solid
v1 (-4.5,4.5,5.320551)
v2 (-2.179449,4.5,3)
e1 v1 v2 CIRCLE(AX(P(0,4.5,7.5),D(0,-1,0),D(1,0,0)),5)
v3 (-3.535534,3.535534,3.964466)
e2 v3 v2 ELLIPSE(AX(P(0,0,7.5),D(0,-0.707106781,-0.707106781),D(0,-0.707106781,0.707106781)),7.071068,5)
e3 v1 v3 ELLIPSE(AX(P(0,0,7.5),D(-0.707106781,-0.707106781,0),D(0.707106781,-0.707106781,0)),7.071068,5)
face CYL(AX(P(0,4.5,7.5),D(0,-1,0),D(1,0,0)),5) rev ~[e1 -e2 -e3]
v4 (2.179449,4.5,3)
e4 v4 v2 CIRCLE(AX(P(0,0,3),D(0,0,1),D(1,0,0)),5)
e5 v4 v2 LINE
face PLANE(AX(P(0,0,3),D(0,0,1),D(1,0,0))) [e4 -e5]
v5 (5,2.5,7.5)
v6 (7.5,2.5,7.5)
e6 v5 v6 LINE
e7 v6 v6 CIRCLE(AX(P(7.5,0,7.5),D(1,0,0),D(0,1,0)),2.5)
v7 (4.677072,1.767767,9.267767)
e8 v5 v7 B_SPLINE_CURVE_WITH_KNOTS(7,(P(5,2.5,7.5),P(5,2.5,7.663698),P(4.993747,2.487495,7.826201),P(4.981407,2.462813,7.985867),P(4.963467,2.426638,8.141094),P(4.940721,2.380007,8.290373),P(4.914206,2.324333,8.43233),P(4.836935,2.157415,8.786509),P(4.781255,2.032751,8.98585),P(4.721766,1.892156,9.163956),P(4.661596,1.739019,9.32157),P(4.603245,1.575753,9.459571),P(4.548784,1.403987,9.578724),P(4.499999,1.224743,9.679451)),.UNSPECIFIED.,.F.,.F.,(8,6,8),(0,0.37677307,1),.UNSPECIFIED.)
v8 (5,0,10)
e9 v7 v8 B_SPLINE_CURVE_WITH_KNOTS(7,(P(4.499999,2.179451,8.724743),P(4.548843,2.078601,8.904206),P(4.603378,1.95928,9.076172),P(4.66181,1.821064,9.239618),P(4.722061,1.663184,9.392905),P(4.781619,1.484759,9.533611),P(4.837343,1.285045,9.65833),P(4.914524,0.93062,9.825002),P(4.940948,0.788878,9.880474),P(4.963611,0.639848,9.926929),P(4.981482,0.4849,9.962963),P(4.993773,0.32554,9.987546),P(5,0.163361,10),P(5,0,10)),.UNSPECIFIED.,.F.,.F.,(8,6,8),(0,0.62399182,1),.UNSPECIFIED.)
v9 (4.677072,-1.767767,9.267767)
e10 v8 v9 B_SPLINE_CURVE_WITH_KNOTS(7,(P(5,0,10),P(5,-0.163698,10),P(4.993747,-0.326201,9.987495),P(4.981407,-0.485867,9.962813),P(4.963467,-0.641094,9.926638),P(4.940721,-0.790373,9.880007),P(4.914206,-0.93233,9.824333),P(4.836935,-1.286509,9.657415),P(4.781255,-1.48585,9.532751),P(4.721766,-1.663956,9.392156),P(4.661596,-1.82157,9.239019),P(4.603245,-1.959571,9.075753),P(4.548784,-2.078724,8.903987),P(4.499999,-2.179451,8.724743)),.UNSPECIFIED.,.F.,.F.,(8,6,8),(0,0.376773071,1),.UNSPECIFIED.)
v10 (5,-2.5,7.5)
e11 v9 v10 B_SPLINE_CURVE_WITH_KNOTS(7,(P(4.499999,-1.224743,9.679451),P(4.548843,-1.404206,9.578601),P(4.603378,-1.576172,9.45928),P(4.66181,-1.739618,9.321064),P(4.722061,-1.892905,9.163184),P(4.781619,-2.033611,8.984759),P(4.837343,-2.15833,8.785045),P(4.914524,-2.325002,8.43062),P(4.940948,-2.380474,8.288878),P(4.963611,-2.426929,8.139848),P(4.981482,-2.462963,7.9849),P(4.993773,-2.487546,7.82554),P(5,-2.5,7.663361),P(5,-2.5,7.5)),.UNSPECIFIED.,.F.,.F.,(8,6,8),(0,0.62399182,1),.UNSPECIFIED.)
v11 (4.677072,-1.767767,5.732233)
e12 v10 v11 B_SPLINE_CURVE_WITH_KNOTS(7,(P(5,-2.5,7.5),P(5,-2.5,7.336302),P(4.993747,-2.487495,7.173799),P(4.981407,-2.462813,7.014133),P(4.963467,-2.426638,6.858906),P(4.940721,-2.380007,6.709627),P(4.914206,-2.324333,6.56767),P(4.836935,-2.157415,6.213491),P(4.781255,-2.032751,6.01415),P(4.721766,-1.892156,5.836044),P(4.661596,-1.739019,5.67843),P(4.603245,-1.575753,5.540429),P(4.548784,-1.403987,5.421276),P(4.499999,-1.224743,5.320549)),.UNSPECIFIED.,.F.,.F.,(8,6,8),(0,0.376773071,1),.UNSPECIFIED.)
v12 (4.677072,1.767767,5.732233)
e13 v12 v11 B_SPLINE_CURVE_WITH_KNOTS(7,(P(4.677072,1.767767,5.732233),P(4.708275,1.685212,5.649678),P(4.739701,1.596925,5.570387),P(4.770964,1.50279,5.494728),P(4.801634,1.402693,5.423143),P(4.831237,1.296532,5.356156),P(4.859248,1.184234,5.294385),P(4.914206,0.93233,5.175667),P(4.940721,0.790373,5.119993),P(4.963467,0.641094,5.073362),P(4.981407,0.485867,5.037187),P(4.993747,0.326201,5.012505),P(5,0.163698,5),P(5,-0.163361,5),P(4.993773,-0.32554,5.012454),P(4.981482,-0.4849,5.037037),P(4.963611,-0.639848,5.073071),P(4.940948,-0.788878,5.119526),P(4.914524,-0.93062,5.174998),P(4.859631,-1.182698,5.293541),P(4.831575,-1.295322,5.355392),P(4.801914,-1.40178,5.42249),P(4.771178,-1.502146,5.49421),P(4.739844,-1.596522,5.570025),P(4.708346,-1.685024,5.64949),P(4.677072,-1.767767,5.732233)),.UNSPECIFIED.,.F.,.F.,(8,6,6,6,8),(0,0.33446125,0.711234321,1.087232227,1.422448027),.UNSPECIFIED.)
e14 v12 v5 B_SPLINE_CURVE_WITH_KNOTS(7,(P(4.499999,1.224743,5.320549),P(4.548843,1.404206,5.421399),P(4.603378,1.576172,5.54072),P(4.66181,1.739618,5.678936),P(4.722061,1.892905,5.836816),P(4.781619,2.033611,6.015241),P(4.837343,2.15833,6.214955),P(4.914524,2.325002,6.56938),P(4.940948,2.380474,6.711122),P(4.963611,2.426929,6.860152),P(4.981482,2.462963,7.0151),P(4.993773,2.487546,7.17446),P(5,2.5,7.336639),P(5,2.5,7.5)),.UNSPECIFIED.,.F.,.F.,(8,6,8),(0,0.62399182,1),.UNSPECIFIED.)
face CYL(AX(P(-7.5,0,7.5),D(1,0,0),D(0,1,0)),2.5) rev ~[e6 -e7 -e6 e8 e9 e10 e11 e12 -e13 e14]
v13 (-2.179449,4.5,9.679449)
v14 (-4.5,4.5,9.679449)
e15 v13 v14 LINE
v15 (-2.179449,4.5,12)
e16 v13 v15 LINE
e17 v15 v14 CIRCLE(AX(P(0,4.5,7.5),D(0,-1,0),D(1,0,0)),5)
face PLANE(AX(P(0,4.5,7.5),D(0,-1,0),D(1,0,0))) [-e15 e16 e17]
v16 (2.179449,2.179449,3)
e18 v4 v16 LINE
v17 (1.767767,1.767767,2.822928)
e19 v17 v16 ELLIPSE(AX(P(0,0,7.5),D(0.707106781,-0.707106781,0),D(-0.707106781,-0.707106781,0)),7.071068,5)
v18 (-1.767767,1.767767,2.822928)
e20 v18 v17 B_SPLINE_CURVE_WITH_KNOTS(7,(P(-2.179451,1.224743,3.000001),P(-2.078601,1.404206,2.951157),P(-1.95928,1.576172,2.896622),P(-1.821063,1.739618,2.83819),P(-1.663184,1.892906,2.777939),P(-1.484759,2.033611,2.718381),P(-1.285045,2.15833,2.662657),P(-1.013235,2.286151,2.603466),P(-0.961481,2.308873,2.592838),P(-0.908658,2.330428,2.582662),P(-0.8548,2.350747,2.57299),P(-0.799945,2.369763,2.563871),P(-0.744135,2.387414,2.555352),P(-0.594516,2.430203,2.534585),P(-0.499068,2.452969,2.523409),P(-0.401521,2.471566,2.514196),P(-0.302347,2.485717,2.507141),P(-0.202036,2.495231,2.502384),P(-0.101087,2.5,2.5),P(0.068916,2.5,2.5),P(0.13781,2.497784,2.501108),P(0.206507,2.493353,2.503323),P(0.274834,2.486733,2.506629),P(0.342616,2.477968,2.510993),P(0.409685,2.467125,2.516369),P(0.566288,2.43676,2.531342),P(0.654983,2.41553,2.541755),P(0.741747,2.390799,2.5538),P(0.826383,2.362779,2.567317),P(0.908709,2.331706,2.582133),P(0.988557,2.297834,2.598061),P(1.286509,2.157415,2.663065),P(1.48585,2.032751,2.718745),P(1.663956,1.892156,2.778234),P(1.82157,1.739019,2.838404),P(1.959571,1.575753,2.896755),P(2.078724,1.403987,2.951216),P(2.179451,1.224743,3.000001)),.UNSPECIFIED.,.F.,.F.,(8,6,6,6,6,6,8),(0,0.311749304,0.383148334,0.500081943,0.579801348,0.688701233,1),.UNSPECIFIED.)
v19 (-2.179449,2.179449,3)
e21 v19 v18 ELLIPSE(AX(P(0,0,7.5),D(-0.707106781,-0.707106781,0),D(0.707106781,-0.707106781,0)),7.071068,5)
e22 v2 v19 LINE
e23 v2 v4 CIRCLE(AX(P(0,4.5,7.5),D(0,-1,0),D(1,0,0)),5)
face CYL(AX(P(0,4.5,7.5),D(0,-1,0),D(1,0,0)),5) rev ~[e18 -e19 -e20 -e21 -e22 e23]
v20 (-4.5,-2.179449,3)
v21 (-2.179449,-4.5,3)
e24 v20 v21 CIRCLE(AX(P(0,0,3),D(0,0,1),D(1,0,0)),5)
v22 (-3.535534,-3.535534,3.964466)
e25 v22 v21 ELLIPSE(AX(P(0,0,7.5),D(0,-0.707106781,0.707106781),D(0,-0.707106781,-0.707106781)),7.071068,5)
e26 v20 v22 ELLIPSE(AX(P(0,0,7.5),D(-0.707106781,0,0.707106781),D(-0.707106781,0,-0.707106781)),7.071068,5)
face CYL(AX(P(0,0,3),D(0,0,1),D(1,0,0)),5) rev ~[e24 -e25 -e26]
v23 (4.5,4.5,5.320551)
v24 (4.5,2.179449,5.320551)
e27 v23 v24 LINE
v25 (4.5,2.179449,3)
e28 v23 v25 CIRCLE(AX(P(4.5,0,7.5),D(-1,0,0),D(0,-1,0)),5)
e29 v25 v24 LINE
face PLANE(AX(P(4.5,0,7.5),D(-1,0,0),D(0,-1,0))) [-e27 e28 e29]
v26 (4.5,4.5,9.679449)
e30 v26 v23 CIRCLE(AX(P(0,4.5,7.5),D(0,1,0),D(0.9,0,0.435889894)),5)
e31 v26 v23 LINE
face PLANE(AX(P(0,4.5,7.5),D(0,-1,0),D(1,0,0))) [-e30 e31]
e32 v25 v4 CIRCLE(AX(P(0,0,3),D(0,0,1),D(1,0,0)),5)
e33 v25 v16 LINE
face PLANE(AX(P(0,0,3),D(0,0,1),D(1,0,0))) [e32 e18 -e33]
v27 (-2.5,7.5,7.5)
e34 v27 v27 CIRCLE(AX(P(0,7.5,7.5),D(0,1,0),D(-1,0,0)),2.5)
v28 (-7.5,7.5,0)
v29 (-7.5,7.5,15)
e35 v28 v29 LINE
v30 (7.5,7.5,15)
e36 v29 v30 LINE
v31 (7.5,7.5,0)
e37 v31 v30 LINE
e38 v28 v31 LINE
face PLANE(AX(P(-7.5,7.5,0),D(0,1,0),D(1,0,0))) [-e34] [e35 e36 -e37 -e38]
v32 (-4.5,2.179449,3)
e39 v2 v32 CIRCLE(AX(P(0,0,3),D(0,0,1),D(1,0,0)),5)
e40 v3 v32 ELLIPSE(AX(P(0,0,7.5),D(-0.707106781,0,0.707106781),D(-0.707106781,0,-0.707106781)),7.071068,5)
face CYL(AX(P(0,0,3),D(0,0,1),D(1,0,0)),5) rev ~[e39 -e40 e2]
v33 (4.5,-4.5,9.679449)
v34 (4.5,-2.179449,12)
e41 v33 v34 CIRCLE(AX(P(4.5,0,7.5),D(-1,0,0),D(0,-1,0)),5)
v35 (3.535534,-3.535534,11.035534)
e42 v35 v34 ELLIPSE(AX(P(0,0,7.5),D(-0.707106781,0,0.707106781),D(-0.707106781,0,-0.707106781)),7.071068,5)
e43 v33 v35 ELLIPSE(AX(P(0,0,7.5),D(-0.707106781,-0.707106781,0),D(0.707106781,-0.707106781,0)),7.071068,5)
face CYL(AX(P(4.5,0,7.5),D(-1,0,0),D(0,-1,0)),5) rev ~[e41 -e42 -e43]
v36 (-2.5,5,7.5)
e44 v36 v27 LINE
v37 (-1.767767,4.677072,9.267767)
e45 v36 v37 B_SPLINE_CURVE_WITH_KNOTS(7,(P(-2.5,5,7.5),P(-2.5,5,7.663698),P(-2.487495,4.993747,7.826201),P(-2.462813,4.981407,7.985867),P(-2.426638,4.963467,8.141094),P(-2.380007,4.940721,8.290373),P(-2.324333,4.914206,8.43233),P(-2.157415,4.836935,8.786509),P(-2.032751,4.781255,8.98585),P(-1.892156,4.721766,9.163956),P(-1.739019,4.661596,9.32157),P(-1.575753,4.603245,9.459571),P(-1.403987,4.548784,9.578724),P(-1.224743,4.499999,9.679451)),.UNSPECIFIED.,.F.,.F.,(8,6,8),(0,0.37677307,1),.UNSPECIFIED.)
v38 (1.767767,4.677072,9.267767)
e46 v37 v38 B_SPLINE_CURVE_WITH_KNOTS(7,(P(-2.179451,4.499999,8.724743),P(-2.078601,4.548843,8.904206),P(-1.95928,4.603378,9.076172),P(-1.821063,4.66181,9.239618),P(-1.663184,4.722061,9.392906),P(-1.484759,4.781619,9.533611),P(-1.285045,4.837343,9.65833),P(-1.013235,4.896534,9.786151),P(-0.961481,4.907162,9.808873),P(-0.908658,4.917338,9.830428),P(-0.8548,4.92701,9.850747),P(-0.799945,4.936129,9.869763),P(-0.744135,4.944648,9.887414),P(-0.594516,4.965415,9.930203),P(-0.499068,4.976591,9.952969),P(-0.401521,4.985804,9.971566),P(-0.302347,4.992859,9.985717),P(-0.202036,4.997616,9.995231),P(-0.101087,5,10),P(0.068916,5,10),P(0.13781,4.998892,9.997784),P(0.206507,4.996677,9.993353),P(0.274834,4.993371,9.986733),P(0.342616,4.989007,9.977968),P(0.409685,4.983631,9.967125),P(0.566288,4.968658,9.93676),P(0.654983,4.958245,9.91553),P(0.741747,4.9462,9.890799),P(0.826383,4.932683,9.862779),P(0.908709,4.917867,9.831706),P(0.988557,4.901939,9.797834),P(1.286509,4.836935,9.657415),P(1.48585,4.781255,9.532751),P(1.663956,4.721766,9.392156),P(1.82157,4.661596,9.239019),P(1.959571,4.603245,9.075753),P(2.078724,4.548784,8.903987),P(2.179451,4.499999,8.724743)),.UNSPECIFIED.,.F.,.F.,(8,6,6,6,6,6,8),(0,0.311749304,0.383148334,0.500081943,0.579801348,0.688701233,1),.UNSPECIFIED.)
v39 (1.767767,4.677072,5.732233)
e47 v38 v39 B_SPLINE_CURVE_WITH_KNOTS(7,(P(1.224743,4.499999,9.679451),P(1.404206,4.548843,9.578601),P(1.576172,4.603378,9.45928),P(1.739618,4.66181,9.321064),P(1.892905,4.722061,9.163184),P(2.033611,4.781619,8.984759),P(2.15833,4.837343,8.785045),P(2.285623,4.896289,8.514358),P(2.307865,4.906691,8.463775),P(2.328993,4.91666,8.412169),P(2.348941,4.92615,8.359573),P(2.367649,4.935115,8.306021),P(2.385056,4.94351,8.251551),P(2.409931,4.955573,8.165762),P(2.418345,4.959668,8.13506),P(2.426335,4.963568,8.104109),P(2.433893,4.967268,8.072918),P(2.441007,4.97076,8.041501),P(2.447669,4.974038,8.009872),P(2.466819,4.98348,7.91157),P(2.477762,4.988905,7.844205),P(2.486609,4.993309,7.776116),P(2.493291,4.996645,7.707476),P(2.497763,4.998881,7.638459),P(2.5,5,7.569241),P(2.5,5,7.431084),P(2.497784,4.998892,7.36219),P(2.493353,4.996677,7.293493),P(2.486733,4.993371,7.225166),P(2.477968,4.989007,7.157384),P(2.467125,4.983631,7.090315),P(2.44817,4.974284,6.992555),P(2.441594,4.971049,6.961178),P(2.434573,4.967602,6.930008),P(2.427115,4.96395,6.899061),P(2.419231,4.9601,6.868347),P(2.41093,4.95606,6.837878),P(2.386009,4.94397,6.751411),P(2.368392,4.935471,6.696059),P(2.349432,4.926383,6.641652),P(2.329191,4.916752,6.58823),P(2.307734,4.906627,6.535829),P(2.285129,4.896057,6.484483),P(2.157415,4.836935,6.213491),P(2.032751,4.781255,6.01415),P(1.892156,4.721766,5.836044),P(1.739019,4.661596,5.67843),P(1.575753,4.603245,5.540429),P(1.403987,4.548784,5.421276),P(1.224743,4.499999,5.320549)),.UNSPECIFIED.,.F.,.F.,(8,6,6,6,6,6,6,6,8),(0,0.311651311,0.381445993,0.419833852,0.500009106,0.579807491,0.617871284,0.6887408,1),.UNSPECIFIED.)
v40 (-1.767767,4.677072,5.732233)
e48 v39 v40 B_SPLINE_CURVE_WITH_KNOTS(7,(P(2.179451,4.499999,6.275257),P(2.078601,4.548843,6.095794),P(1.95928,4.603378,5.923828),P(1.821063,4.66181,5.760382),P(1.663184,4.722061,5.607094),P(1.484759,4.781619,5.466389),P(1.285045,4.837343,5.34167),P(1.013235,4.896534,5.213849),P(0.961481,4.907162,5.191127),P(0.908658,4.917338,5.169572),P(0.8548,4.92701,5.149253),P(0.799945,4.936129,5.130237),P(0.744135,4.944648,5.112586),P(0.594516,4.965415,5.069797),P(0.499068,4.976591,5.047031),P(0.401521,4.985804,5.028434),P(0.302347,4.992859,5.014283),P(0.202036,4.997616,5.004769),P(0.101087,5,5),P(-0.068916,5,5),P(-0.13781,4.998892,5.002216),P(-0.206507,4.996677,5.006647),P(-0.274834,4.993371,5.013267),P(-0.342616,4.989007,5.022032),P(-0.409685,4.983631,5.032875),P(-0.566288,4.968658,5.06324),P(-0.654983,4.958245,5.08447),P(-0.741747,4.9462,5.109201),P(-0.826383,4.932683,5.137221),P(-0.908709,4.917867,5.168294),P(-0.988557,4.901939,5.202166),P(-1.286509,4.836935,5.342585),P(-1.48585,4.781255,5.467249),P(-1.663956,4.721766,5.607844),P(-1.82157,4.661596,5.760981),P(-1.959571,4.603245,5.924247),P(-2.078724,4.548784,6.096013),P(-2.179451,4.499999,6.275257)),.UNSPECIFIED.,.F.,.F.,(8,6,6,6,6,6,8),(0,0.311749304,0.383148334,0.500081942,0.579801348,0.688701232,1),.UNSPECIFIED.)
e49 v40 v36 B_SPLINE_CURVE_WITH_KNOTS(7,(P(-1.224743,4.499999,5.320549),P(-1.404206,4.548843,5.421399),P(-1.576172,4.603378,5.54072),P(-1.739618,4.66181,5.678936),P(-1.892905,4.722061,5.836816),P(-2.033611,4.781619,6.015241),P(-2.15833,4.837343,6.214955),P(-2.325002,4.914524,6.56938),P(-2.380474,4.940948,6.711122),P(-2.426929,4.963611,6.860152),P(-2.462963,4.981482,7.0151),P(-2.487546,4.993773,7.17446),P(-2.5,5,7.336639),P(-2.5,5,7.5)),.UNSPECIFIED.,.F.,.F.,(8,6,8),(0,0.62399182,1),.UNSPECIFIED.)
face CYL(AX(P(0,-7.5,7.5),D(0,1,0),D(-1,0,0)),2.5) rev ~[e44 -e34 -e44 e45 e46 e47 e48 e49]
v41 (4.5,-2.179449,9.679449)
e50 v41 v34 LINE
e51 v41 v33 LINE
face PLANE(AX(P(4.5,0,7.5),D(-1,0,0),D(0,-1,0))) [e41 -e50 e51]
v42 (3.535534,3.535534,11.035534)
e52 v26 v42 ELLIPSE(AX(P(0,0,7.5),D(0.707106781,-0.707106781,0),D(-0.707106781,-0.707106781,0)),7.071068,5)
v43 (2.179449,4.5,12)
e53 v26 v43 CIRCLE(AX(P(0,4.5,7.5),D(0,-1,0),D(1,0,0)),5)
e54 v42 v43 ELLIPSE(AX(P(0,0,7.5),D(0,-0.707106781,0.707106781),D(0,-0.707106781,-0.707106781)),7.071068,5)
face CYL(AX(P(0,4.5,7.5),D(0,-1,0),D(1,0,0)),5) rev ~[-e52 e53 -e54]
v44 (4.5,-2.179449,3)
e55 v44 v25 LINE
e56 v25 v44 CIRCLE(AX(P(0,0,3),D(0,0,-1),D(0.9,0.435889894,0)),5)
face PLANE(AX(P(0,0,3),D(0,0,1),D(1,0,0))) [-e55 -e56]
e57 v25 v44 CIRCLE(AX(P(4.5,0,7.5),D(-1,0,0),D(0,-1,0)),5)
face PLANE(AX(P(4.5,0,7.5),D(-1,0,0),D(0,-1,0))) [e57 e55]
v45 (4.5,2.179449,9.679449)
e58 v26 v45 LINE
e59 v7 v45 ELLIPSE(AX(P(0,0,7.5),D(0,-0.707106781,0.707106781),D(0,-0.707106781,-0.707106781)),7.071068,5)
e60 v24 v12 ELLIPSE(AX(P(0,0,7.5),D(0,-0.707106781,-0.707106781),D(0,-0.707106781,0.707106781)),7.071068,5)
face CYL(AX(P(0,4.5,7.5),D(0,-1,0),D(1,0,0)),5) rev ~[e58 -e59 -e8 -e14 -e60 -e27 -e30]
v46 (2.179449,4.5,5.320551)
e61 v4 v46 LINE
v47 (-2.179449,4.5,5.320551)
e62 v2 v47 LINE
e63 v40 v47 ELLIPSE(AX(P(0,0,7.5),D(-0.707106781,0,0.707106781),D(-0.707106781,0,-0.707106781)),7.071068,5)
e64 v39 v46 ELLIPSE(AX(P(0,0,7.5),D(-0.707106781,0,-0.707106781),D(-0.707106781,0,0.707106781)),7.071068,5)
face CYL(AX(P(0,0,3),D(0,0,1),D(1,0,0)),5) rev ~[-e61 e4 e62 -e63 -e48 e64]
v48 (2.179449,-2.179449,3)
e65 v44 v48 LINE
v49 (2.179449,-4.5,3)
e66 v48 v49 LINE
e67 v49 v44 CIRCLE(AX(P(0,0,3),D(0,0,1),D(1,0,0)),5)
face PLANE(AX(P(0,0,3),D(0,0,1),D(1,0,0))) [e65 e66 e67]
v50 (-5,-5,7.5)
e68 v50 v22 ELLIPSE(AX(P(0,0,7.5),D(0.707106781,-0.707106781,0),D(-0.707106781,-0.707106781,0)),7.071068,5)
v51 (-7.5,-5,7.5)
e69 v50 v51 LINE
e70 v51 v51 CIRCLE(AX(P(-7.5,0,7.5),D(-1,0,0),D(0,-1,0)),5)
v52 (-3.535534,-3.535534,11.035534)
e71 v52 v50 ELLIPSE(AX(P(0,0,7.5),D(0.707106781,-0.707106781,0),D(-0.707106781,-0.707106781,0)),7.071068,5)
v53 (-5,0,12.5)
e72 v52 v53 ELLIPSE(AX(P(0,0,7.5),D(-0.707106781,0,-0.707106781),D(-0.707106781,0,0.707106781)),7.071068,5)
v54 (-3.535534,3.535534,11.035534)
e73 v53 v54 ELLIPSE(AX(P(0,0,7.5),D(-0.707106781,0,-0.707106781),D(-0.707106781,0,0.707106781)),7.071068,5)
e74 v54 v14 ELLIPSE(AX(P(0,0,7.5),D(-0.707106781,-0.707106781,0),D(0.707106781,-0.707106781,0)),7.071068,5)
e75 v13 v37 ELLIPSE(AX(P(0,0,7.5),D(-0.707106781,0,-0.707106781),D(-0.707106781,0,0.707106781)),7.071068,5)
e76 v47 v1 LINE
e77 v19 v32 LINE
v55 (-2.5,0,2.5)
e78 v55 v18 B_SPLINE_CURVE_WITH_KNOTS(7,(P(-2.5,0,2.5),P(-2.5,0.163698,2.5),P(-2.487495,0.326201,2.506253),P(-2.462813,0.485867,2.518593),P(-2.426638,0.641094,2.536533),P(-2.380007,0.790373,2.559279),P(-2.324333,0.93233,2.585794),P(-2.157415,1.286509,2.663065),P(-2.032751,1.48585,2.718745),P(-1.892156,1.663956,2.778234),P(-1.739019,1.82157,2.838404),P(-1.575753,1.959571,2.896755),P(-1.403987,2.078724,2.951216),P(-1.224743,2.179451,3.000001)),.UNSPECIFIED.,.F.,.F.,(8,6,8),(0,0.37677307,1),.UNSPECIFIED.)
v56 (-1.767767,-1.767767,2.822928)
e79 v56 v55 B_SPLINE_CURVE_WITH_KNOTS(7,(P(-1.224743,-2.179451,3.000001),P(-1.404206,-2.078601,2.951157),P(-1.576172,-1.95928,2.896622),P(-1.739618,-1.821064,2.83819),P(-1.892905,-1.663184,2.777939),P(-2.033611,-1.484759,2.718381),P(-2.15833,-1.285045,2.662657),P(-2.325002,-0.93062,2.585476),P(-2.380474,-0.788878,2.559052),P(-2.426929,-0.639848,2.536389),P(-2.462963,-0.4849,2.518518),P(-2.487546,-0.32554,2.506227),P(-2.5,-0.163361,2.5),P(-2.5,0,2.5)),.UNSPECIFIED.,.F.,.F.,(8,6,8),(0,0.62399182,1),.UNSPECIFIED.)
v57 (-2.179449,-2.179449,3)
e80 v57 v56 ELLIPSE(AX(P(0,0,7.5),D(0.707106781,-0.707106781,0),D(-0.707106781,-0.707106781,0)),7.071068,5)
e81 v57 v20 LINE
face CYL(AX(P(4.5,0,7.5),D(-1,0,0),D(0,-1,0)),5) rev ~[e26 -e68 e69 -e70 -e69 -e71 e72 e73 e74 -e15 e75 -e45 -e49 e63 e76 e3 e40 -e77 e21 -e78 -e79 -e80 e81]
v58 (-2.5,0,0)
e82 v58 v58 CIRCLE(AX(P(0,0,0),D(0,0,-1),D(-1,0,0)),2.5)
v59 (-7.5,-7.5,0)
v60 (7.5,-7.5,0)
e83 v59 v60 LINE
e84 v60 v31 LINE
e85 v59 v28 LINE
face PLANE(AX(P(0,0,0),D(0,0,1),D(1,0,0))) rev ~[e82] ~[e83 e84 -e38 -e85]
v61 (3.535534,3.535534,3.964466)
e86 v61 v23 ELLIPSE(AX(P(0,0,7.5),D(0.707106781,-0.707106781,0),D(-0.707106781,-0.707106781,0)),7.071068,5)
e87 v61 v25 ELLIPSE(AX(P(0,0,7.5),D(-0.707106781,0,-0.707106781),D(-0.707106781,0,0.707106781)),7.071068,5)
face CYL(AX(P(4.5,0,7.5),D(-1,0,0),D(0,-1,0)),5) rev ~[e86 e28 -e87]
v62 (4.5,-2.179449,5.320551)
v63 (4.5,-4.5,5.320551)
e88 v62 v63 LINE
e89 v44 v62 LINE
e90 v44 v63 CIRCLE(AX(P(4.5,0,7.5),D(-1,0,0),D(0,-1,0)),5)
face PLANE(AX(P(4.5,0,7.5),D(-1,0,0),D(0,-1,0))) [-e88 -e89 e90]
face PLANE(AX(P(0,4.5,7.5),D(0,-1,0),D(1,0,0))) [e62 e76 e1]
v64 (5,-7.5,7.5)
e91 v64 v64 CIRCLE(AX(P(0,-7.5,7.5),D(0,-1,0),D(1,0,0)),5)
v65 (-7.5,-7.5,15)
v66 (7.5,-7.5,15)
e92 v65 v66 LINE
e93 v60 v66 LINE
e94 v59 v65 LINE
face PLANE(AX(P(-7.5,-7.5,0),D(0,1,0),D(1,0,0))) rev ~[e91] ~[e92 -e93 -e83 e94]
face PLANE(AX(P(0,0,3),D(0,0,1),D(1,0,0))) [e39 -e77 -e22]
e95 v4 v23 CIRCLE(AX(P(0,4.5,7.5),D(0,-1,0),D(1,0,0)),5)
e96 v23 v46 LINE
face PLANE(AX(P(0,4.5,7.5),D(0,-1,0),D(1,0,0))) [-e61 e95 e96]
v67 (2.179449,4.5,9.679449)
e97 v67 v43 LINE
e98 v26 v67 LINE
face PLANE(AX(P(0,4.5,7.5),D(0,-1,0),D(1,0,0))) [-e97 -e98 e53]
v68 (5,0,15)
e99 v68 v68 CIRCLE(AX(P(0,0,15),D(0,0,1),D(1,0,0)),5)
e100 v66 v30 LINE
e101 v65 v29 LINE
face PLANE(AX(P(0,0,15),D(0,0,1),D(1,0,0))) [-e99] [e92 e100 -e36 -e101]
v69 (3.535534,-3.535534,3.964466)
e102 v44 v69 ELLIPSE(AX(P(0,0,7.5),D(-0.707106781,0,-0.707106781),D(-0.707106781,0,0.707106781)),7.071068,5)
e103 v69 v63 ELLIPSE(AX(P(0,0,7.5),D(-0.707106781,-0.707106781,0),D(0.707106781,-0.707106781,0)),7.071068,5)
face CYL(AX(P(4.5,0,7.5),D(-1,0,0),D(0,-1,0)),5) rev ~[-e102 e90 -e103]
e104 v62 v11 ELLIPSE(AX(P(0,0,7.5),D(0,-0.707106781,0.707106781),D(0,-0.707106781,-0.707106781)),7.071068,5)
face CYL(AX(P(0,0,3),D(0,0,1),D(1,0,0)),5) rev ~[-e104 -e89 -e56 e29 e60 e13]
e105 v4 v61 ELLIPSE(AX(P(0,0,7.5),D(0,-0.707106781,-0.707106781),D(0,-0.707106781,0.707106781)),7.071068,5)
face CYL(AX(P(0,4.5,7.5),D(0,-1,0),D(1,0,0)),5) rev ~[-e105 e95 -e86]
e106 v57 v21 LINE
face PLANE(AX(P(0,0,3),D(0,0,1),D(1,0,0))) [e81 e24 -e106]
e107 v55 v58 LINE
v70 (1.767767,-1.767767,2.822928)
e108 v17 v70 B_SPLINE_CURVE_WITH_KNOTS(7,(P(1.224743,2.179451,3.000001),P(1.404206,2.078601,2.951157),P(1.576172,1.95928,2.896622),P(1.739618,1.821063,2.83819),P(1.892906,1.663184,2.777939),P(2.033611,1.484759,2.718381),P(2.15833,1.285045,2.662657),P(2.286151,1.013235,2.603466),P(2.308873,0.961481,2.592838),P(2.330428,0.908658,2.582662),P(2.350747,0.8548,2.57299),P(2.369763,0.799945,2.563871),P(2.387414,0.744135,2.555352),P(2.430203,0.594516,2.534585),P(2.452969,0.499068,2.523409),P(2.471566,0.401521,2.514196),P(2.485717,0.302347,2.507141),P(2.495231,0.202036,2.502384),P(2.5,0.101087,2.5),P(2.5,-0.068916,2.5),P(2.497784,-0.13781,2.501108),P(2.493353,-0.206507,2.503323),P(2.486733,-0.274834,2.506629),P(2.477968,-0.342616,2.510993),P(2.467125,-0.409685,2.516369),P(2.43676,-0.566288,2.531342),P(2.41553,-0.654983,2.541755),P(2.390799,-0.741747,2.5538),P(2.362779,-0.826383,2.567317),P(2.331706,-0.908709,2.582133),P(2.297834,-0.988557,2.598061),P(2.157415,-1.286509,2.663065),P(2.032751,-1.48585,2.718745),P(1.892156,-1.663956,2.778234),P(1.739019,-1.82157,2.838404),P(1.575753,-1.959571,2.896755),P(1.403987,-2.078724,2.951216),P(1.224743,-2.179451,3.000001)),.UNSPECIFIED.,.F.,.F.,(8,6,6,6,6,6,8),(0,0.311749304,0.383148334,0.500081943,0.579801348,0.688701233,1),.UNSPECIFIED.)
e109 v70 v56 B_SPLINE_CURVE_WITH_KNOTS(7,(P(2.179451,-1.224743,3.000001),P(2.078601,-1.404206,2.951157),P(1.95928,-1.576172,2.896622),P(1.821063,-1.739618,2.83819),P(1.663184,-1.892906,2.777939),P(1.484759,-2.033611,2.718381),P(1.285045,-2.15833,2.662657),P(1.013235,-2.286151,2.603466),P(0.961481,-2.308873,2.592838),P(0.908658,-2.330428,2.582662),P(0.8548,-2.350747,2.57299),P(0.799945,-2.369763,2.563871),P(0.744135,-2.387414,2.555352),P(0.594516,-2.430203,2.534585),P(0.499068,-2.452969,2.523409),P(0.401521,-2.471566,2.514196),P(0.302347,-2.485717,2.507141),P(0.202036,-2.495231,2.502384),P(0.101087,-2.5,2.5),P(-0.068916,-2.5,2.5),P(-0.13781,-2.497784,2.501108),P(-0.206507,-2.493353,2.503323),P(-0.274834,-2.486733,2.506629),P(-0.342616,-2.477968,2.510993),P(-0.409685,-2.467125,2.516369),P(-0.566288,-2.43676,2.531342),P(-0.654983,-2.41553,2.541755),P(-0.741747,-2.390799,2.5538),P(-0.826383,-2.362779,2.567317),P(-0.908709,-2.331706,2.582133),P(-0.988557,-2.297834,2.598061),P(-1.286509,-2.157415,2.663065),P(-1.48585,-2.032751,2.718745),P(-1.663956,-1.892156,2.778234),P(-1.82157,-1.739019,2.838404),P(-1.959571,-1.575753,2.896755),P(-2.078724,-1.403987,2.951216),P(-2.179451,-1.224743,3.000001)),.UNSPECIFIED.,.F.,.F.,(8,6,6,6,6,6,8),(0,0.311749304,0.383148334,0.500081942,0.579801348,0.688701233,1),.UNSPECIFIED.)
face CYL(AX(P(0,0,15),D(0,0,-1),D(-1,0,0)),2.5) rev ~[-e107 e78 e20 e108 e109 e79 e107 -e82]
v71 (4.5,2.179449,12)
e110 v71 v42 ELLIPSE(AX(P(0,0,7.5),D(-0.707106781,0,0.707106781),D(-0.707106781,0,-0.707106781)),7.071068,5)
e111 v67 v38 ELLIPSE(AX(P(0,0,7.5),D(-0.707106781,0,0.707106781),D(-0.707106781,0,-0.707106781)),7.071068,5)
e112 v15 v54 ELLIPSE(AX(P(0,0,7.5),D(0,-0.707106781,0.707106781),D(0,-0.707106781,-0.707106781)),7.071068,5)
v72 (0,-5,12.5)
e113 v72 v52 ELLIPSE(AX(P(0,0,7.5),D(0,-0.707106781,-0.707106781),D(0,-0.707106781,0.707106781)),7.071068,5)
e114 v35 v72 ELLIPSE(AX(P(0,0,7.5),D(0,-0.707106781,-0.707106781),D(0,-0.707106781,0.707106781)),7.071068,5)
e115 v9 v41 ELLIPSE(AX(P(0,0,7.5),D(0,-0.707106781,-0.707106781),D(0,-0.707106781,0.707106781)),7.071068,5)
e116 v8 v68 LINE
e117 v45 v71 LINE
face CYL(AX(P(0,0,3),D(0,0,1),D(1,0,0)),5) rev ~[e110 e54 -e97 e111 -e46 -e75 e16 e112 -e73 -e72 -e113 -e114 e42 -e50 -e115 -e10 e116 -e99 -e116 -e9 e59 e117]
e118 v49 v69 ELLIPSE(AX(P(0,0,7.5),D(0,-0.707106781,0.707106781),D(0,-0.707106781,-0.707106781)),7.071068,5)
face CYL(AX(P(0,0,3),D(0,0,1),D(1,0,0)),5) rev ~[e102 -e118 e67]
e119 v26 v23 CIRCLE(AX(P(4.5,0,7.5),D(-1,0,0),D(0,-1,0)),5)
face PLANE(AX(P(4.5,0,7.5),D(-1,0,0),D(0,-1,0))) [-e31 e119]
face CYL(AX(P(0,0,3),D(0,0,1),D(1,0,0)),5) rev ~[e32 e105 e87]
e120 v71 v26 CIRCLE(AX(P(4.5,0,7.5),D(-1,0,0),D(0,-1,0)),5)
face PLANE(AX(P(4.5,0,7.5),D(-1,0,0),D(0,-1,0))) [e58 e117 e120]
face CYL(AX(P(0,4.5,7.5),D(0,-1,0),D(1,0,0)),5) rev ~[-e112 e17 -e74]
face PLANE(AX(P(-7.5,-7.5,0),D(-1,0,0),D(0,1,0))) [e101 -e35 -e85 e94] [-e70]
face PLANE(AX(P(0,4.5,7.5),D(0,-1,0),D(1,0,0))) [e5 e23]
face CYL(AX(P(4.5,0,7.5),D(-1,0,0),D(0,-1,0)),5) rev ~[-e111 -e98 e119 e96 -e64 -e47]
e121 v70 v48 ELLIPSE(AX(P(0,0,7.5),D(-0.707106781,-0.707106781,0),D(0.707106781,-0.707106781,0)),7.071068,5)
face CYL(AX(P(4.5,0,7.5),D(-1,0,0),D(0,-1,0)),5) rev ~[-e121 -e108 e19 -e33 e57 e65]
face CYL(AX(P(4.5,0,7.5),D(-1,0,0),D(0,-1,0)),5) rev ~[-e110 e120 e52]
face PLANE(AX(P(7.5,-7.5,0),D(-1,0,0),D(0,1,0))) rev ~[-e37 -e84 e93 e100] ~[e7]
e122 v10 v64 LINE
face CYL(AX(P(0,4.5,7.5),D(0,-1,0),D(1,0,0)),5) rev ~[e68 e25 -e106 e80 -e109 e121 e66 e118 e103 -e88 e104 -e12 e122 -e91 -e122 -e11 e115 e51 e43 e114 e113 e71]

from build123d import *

# Parameters (mm, degrees)
F0_W                 = 15
F0_H                 = 15
F1_DEPTH             = 15
F5_D                 = 5
F5_CBORE_D           = 10
F5_CBORE_DEPTH       = 12
F5_ON_F3_D           = 5
F5_ON_F3_CBORE_D     = 10
F5_ON_F3_CBORE_DEPTH = 12
F5_ON_F4_D           = 5
F5_ON_F4_CBORE_D     = 10
F5_ON_F4_CBORE_DEPTH = 12


with BuildPart() as f1:
    # F0 (on Top) → F1 (new body)
    with BuildSketch(Plane.XY):
        Rectangle(F0_W, F0_H)
    extrude(amount=F1_DEPTH)

    # F5 (through all)
    with Locations(Plane.XZ.offset(7.5)):
        with Locations((0, 7.5)):
            CounterBoreHole(F5_D / 2, F5_CBORE_D / 2, F5_CBORE_DEPTH)

    # F5 on F3 (through all)
    with Locations(Plane(origin=(-7.5, 0, 0), x_dir=(0, -1, 0), z_dir=(-1, 0, 0))):
        with Locations((0, 7.5)):
            CounterBoreHole(F5_ON_F3_D / 2, F5_ON_F3_CBORE_D / 2, F5_ON_F3_CBORE_DEPTH)

    # F5 on F4 (through all)
    with Locations(Plane.XY.offset(15)):
        with Locations((0, 0)):
            CounterBoreHole(F5_ON_F4_D / 2, F5_ON_F4_CBORE_D / 2, F5_ON_F4_CBORE_DEPTH)


solid = f1.part
